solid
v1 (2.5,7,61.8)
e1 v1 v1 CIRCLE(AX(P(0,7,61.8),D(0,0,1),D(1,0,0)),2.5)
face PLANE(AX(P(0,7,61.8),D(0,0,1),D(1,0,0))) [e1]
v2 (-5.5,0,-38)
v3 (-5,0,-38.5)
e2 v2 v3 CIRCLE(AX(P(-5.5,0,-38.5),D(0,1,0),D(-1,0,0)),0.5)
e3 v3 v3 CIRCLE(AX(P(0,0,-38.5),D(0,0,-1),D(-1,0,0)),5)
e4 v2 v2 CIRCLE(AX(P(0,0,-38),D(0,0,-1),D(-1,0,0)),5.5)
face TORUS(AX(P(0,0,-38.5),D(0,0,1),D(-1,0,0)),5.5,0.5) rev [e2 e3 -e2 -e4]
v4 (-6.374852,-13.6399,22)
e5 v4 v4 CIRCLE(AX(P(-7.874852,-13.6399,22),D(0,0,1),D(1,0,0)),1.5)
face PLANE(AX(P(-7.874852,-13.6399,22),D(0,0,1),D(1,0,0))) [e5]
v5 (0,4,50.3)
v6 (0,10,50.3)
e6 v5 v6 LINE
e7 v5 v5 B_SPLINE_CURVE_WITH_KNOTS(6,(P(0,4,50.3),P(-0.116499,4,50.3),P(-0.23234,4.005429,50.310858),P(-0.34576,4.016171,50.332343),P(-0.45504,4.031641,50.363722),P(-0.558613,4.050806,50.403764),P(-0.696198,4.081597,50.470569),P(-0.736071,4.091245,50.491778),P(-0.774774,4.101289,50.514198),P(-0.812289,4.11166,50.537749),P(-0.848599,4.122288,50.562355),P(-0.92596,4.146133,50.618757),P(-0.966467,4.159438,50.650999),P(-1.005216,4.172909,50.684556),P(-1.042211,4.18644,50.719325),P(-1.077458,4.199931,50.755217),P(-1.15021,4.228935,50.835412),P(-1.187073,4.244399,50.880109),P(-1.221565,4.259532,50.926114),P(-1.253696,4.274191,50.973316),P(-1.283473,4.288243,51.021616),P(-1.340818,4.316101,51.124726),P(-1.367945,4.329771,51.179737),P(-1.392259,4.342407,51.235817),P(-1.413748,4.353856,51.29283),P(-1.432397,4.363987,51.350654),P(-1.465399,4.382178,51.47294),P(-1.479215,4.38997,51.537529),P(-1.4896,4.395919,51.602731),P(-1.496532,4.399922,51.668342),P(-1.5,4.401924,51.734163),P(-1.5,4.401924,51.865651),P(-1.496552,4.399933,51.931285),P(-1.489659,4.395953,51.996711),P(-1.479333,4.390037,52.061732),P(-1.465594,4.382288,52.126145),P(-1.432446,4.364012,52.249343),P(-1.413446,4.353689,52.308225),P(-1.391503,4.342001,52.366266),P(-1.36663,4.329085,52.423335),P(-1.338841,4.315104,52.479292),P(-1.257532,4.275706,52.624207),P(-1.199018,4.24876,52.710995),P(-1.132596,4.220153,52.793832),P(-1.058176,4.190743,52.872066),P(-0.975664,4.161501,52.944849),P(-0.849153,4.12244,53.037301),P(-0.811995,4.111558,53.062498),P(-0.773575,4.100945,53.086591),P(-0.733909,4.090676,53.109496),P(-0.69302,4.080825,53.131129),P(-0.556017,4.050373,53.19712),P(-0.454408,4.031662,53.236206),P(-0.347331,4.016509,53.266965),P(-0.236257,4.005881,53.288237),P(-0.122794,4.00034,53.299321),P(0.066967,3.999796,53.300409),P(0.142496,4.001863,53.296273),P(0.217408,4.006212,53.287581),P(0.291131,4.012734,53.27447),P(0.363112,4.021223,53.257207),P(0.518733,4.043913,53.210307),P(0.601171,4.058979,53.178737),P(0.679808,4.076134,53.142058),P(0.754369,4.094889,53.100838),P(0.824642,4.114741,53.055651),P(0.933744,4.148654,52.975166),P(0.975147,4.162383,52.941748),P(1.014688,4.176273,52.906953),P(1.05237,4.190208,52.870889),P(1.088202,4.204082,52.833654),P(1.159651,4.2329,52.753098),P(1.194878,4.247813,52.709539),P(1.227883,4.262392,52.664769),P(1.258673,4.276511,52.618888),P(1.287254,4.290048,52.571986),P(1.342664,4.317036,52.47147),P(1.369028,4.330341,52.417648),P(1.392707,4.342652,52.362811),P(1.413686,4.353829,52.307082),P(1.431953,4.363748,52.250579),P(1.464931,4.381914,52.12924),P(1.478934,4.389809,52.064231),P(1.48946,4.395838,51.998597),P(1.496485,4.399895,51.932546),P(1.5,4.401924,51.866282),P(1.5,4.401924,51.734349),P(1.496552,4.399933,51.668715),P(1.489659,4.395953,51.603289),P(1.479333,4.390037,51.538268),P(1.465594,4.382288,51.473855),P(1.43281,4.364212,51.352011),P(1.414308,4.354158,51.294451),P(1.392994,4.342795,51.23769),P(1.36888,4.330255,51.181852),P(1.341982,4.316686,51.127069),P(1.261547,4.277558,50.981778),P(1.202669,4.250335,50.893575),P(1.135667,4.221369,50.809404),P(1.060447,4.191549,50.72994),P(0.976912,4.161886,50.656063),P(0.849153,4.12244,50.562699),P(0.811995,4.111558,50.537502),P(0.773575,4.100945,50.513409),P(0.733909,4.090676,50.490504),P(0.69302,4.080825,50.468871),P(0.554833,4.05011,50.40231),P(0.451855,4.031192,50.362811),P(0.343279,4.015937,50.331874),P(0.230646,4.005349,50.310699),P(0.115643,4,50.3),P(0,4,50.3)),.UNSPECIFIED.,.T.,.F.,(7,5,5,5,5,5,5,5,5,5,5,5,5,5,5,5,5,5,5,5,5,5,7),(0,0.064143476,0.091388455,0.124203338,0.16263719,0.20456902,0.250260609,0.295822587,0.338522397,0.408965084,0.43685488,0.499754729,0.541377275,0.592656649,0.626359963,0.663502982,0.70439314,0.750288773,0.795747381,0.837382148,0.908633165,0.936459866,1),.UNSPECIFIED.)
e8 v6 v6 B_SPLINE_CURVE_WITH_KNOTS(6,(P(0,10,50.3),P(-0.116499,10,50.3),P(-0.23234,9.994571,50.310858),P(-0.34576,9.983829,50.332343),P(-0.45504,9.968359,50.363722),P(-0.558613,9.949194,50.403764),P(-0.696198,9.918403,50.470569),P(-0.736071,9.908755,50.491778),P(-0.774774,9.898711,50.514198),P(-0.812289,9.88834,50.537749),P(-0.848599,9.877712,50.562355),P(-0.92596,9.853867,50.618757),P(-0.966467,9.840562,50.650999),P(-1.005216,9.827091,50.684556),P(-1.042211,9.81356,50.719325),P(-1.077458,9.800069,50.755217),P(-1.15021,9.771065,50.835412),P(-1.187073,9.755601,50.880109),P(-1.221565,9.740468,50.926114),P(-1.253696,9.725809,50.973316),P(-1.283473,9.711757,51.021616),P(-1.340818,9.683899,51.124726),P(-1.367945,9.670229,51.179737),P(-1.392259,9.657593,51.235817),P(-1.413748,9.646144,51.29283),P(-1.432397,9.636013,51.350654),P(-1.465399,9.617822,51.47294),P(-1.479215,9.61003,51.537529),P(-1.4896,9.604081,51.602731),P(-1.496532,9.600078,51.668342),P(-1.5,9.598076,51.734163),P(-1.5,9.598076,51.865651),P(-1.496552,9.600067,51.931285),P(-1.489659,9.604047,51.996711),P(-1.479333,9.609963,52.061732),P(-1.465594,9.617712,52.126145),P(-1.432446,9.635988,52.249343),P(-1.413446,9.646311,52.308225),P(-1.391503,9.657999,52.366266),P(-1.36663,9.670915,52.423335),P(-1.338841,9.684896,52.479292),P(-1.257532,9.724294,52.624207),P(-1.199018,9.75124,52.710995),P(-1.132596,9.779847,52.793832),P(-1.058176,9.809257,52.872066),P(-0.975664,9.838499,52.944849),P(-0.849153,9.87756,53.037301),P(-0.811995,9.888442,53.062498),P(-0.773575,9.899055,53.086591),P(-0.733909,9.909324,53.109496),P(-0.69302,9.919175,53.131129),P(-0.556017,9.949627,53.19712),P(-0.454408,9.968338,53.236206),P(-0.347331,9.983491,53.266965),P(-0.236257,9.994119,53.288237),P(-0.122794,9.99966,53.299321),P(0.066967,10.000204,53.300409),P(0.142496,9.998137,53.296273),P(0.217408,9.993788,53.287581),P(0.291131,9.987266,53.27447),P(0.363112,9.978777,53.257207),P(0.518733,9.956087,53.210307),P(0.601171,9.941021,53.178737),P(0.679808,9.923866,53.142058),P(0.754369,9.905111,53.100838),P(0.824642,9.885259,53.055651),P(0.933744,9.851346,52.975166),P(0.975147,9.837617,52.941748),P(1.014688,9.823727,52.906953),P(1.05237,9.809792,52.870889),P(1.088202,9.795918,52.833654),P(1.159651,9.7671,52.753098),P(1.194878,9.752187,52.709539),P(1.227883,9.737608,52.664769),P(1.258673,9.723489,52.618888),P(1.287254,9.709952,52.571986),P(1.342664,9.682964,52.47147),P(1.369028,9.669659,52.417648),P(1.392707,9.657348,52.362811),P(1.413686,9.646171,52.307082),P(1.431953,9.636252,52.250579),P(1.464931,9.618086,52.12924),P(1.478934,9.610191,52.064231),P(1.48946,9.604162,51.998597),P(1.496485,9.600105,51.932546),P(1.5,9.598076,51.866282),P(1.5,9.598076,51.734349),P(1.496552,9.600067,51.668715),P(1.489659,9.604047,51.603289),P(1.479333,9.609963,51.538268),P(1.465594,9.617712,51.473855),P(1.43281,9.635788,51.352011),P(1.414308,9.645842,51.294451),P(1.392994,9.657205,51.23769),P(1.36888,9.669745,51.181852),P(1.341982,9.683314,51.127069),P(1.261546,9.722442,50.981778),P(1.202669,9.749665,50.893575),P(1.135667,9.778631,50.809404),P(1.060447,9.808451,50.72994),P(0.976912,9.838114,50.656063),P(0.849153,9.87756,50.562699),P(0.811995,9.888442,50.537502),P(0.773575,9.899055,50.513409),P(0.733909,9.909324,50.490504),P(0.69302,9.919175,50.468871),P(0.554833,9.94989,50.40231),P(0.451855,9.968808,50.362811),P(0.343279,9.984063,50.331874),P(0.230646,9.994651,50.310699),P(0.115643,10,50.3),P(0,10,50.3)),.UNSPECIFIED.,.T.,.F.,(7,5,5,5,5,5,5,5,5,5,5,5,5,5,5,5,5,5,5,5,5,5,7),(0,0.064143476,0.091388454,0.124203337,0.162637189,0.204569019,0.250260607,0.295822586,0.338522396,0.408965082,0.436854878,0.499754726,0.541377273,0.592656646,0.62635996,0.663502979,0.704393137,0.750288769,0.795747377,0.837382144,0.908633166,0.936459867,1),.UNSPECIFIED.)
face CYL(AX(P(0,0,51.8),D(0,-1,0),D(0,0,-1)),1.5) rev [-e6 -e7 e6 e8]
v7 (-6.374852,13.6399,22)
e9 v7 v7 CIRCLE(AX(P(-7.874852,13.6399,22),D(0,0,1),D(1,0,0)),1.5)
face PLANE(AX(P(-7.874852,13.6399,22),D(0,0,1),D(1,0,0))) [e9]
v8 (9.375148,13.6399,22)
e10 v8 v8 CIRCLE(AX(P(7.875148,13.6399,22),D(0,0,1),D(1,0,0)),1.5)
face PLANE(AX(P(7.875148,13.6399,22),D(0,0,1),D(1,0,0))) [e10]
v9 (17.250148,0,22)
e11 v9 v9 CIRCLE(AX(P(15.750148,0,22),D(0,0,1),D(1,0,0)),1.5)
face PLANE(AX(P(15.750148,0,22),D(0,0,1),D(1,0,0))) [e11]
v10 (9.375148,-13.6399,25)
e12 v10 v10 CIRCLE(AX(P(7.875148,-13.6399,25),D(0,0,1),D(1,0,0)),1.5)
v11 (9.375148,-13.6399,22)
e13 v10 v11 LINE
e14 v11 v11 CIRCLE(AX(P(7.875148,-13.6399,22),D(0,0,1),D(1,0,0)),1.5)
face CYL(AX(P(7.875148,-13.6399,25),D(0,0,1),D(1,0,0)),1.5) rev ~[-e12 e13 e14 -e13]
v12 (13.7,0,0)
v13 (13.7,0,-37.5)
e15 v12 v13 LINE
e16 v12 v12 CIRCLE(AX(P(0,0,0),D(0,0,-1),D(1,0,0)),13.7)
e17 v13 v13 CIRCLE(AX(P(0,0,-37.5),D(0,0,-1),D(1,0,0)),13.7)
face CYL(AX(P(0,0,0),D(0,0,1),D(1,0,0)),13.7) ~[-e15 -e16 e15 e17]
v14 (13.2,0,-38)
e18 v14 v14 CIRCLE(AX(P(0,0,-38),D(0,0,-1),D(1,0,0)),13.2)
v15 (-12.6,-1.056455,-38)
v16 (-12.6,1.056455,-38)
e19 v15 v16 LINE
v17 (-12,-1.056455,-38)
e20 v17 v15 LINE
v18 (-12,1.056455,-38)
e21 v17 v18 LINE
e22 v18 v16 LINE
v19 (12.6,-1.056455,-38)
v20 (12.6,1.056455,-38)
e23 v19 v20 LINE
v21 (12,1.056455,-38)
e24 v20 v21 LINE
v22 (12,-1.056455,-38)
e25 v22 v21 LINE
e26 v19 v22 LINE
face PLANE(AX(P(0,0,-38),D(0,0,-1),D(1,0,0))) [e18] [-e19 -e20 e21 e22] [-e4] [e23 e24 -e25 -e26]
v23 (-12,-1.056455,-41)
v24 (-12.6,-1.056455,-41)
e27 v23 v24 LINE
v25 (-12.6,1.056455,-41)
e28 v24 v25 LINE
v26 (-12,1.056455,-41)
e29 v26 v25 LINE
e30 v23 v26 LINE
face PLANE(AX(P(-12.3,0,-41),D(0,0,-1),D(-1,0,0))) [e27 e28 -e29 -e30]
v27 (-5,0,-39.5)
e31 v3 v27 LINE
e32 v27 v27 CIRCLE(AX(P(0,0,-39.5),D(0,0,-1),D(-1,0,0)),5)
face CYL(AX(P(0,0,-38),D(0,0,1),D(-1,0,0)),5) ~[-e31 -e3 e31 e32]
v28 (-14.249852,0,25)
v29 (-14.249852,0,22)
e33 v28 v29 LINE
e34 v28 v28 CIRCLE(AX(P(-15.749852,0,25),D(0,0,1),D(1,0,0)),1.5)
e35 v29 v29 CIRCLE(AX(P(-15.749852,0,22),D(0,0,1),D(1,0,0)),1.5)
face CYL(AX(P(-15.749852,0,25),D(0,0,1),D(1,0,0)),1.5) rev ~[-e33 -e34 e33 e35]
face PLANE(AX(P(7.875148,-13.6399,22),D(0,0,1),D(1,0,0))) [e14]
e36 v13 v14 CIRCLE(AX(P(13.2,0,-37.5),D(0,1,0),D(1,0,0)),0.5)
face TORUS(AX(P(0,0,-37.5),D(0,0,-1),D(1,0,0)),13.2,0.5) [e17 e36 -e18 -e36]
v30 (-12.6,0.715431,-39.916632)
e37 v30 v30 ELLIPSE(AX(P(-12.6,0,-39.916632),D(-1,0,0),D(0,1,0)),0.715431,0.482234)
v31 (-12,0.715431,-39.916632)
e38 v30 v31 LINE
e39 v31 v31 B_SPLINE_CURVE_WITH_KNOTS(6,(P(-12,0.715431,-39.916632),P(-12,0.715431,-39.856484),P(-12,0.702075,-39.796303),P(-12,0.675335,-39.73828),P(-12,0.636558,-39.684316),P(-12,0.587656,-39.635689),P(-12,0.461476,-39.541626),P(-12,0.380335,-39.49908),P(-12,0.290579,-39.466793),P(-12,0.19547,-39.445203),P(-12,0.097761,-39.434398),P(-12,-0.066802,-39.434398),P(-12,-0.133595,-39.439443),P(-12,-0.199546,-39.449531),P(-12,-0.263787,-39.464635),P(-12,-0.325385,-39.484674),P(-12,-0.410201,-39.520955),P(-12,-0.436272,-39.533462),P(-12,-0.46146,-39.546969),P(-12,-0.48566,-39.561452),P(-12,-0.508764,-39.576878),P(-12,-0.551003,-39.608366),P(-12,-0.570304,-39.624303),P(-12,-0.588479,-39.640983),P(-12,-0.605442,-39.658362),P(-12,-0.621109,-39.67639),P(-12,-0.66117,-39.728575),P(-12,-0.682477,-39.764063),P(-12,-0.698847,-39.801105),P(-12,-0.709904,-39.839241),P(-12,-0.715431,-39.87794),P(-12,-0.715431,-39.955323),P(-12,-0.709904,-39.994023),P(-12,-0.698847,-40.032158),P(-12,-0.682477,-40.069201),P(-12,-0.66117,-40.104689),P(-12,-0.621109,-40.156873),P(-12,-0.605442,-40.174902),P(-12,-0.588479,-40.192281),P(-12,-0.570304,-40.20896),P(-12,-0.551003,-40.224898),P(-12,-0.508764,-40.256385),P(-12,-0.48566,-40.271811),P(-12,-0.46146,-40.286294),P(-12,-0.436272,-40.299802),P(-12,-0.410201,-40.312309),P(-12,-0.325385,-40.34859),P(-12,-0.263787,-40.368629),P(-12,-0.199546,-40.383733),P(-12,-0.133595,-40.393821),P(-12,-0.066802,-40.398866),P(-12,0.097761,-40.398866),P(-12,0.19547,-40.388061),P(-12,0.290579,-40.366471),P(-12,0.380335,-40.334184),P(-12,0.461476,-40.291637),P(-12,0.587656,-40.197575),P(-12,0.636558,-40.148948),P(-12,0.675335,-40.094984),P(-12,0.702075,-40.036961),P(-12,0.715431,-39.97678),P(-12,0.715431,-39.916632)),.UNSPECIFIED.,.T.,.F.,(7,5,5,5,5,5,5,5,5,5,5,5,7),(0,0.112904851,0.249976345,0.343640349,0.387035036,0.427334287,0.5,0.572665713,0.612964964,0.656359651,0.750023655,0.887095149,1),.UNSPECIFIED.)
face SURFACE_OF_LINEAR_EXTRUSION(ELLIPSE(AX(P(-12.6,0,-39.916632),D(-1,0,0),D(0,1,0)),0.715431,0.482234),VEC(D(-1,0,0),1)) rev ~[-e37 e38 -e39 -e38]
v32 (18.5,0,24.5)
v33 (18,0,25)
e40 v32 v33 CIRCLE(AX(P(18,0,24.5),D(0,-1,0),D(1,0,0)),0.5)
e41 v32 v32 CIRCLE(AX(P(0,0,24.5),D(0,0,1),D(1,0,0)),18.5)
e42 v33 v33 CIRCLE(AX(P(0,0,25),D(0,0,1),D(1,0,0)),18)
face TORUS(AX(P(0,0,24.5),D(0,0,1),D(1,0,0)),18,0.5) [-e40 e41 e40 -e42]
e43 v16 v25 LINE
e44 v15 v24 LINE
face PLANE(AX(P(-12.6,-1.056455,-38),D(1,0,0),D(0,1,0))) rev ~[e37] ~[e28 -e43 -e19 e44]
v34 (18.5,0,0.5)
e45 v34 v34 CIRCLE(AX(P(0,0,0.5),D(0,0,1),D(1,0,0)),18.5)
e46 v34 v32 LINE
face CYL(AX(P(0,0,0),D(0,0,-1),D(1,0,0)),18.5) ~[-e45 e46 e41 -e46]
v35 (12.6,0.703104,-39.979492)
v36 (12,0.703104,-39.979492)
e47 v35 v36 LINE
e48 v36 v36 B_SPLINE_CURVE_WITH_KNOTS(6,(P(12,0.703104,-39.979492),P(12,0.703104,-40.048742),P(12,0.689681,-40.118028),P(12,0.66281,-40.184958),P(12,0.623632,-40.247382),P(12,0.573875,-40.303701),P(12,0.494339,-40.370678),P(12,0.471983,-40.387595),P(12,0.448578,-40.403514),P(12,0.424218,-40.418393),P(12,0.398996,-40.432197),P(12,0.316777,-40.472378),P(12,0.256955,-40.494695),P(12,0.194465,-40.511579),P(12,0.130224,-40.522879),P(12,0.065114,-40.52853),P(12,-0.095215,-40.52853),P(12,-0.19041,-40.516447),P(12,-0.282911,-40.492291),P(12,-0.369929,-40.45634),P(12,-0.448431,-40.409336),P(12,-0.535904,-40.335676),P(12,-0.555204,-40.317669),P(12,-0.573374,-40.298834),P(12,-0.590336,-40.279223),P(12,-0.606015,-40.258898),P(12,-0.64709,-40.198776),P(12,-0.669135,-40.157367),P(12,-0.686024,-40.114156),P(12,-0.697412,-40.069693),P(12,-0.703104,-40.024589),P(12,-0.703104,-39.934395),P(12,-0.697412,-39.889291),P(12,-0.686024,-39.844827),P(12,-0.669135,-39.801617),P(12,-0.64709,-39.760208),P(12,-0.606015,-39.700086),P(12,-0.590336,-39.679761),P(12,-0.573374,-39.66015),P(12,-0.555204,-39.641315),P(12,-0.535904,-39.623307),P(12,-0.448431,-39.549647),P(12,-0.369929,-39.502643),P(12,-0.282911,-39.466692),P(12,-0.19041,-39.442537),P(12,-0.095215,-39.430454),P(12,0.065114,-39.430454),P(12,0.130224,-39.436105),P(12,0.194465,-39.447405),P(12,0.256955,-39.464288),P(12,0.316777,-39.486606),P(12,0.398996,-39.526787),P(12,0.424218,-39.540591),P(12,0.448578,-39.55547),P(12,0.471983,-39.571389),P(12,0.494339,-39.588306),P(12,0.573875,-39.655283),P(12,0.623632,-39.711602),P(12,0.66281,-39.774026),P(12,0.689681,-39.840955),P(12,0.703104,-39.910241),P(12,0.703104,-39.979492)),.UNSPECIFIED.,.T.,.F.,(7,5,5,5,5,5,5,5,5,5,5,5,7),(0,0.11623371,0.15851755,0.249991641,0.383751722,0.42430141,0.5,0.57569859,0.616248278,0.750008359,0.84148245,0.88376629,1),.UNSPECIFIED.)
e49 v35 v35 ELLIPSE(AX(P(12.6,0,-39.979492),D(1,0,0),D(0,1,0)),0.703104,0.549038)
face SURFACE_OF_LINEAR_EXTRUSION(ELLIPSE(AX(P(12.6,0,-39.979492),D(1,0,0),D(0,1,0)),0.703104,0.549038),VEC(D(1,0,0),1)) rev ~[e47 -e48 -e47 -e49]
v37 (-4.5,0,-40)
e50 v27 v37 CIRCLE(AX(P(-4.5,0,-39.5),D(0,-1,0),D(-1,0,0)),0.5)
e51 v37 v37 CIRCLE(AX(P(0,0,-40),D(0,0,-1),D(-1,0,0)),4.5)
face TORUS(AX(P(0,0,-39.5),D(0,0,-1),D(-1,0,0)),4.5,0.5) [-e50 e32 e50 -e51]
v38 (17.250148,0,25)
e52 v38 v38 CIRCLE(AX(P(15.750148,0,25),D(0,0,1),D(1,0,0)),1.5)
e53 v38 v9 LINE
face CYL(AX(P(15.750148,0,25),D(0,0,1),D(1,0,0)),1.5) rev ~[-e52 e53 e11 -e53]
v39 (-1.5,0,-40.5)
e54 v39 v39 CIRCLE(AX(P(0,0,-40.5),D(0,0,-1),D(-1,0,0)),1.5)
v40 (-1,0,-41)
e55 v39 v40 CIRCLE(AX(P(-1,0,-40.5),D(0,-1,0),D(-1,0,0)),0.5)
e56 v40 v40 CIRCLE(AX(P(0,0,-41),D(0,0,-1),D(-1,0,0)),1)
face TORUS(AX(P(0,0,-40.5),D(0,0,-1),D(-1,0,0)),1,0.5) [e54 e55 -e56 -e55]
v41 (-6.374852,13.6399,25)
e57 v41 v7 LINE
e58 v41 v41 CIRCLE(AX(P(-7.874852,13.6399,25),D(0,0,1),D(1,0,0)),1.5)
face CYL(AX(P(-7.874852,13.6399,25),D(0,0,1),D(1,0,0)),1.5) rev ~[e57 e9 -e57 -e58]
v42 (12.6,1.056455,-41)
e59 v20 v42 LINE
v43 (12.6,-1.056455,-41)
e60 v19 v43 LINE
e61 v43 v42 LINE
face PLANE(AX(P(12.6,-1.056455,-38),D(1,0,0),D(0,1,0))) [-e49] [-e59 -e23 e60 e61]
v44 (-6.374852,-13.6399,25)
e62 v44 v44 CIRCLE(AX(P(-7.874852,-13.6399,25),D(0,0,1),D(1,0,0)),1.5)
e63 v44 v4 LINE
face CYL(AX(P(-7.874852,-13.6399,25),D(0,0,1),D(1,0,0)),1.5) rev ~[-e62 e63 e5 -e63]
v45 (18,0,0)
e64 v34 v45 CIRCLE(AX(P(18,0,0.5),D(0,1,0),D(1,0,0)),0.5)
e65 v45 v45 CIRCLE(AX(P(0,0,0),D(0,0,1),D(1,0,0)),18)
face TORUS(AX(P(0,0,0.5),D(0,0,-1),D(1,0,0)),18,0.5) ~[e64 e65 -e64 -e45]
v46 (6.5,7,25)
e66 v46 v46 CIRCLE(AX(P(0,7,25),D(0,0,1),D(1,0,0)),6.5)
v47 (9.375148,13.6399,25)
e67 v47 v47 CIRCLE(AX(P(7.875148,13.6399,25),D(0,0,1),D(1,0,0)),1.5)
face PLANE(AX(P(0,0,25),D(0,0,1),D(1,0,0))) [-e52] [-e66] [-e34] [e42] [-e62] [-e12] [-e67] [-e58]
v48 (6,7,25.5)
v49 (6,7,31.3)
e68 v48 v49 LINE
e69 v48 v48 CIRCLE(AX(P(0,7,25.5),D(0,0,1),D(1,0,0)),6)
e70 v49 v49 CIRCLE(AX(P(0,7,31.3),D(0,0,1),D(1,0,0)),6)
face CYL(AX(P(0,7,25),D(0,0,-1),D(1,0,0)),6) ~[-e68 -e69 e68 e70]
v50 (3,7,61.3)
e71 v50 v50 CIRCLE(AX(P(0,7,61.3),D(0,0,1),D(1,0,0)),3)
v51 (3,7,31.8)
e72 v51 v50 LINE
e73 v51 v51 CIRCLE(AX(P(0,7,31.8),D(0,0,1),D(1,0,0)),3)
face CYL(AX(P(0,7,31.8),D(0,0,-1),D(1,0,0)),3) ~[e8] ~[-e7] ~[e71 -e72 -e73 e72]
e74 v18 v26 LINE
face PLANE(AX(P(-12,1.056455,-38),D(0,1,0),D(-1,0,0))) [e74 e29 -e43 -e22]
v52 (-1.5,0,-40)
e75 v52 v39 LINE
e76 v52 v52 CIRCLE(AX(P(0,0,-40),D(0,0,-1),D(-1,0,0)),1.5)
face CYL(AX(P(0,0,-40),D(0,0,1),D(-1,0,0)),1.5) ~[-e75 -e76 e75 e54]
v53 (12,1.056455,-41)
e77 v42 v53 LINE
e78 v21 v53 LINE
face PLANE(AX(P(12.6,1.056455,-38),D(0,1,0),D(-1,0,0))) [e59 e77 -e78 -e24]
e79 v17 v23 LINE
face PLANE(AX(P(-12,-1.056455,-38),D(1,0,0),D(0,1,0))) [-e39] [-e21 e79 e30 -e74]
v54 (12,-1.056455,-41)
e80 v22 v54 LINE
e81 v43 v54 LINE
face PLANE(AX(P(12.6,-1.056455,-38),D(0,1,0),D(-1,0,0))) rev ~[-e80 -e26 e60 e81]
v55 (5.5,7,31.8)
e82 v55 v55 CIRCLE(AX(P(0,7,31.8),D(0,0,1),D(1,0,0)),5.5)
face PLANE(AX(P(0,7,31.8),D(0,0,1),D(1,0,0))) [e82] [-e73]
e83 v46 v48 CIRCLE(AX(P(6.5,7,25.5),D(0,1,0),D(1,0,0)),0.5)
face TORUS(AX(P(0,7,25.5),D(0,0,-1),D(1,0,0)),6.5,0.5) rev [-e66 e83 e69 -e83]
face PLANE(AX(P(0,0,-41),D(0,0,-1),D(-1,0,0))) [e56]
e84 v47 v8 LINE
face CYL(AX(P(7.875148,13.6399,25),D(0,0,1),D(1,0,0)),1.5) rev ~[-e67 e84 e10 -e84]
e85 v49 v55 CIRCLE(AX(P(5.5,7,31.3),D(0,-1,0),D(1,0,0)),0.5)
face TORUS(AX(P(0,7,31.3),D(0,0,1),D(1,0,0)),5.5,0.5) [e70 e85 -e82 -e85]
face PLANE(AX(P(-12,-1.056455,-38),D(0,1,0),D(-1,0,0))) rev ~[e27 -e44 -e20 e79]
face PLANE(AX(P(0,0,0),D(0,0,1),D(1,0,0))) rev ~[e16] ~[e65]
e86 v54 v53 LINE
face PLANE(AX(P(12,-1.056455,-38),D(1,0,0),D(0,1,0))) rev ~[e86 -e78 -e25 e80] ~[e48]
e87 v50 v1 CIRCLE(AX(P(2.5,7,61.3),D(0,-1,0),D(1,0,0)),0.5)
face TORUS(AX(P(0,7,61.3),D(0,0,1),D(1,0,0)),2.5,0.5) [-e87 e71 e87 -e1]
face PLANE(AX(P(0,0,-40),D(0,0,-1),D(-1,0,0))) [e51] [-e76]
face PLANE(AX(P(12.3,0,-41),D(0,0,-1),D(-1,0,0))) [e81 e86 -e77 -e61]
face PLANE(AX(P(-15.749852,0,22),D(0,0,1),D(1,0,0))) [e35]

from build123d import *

# Parameters (mm, degrees)
SKETCH1_R           = 18.5
BOSS_EXTRUDE1_DEPTH = 25
SKETCH2_R           = 6
BOSS_EXTRUDE2_DEPTH = 6.8
SKETCH3_R           = 3
BOSS_EXTRUDE3_DEPTH = 30
SKETCH4_R           = 13.7
BOSS_EXTRUDE4_DEPTH = 38
SKETCH5_R           = 5
BOSS_EXTRUDE5_DEPTH = 2
SKETCH6_R           = 1.5
BOSS_EXTRUDE6_DEPTH = 1
SKETCH7_W           = 0.6
SKETCH7_H           = 2.112909024
BOSS_EXTRUDE7_DEPTH = 3
SKETCH9_RX          = 0.703104286
SKETCH9_RY          = 0.549037665
CUT_EXTRUDE1_DEPTH  = 3
SKETCH10_RX         = 0.71543089
SKETCH10_RY         = 0.482234279
CUT_EXTRUDE2_DEPTH  = 3
SKETCH11_R          = 1.5
CUT_EXTRUDE3_DEPTH  = 68.109909849
SKETCH12_R          = 1.5
CUT_EXTRUDE4_DEPTH  = 3
FILLET1_R           = 0.5
FILLET2_R           = 0.5
FILLET3_R           = 0.5
FILLET4_R           = 0.5
FILLET5_R           = 0.5


with BuildPart() as part:
    # Sketch1 → Boss-Extrude1 (new body)
    with BuildSketch(Plane.XY):
        Circle(SKETCH1_R)
    extrude(amount=BOSS_EXTRUDE1_DEPTH)

    # Sketch2 → Boss-Extrude2 (add)
    with BuildSketch(Plane.XY.offset(25)):
        with Locations((0, 7)):
            Circle(SKETCH2_R)
    extrude(amount=BOSS_EXTRUDE2_DEPTH)

    # Sketch3 → Boss-Extrude3 (add)
    with BuildSketch(Plane.XY.offset(31.8)):
        with Locations((0, 7)):
            Circle(SKETCH3_R)
    extrude(amount=BOSS_EXTRUDE3_DEPTH)

    # Sketch4 → Boss-Extrude4 (add)
    with BuildSketch(Plane(origin=(0, 0, 0), x_dir=(-1, 0, 0), z_dir=(0, 0, -1))):
        with Locations(Location((0, 0, 0), (0, 0, 180))):
            Circle(SKETCH4_R)
    extrude(amount=BOSS_EXTRUDE4_DEPTH)

    # Sketch5 → Boss-Extrude5 (add)
    with BuildSketch(Plane(origin=(0, 0, -38), x_dir=(-1, 0, 0), z_dir=(0, 0, -1))):
        Circle(SKETCH5_R)
    extrude(amount=BOSS_EXTRUDE5_DEPTH)

    # Sketch6 → Boss-Extrude6 (add)
    with BuildSketch(Plane(origin=(0, 0, -40), x_dir=(-1, 0, 0), z_dir=(0, 0, -1))):
        Circle(SKETCH6_R)
    extrude(amount=BOSS_EXTRUDE6_DEPTH)

    # Sketch7 → Boss-Extrude7 (add)
    with BuildSketch(Plane(origin=(0, 0, -38), x_dir=(-1, 0, 0), z_dir=(0, 0, -1))):
        with Locations((-12.3, 0)):
            Rectangle(SKETCH7_W, SKETCH7_H)
        with Locations((12.3, 0)):
            Rectangle(SKETCH7_W, SKETCH7_H)
    extrude(amount=BOSS_EXTRUDE7_DEPTH)

    # Sketch9 → Cut-Extrude1 (cut)
    with BuildSketch(Plane(origin=(12.6, 0, 0), x_dir=(0, 0, -1), z_dir=(1, 0, 0))):
        with Locations(Location((39.979491876, 0), (0, 0, 90))):
            Ellipse(SKETCH9_RX, SKETCH9_RY)
    extrude(amount=-CUT_EXTRUDE1_DEPTH, mode=Mode.SUBTRACT)

    # Sketch10 → Cut-Extrude2 (cut)
    with BuildSketch(Plane.ZY.offset(12.6)):
        with Locations(Location((-39.916631896, 0), (0, 0, 90))):
            Ellipse(SKETCH10_RX, SKETCH10_RY)
    extrude(amount=-CUT_EXTRUDE2_DEPTH, mode=Mode.SUBTRACT)

    # Sketch11 → Cut-Extrude3 (cut, through all)
    with BuildSketch(Plane(origin=(0, 0, 0), x_dir=(1, 0, 0), z_dir=(0, 1, 0))):
        with Locations(Location((0, -51.8, 0), (0, 0, 90))):
            Circle(SKETCH11_R)
    extrude(amount=CUT_EXTRUDE3_DEPTH, mode=Mode.SUBTRACT)

    # Sketch12 → Cut-Extrude4 (cut)
    with BuildSketch(Plane.XY.offset(25)):
        with Locations((-15.749852276, 0)):
            Circle(SKETCH12_R)
        with Locations((-7.874852276, 13.63990011)):
            Circle(SKETCH12_R)
        with Locations((7.875147724, 13.63990011)):
            Circle(SKETCH12_R)
        with Locations((15.750147724, 0)):
            Circle(SKETCH12_R)
        with Locations((7.875147724, -13.63990011)):
            Circle(SKETCH12_R)
        with Locations((-7.874852276, -13.63990011)):
            Circle(SKETCH12_R)
    extrude(amount=-CUT_EXTRUDE4_DEPTH, mode=Mode.SUBTRACT)

    # Fillet1
    fillet1_edges = [part.edges().sort_by_distance(p)[0] for p in [
        (-18.5, 0, 25),
    ]]
    fillet(fillet1_edges, radius=FILLET1_R)

    # Fillet2
    fillet2_edges = [part.edges().sort_by_distance(p)[0] for p in [
        (-6, 7, 25),
    ]]
    fillet(fillet2_edges, radius=FILLET2_R)

    # Fillet3
    fillet3_edges = [part.edges().sort_by_distance(p)[0] for p in [
        (-6, 7, 31.8),
    ]]
    fillet(fillet3_edges, radius=FILLET3_R)

    # Fillet4
    fillet4_edges = [part.edges().sort_by_distance(p)[0] for p in [
        (-3, 7, 61.8),
    ]]
    fillet(fillet4_edges, radius=FILLET4_R)

    # Fillet5
    fillet5_edges = [part.edges().sort_by_distance(p)[0] for p in [
        (-13.7, 0, -38),
        (-18.5, 0, 0),
        (5, 0, -38),
        (5, 0, -40),
        (1.5, 0, -41),
    ]]
    fillet(fillet5_edges, radius=FILLET5_R)


solid = part.part
